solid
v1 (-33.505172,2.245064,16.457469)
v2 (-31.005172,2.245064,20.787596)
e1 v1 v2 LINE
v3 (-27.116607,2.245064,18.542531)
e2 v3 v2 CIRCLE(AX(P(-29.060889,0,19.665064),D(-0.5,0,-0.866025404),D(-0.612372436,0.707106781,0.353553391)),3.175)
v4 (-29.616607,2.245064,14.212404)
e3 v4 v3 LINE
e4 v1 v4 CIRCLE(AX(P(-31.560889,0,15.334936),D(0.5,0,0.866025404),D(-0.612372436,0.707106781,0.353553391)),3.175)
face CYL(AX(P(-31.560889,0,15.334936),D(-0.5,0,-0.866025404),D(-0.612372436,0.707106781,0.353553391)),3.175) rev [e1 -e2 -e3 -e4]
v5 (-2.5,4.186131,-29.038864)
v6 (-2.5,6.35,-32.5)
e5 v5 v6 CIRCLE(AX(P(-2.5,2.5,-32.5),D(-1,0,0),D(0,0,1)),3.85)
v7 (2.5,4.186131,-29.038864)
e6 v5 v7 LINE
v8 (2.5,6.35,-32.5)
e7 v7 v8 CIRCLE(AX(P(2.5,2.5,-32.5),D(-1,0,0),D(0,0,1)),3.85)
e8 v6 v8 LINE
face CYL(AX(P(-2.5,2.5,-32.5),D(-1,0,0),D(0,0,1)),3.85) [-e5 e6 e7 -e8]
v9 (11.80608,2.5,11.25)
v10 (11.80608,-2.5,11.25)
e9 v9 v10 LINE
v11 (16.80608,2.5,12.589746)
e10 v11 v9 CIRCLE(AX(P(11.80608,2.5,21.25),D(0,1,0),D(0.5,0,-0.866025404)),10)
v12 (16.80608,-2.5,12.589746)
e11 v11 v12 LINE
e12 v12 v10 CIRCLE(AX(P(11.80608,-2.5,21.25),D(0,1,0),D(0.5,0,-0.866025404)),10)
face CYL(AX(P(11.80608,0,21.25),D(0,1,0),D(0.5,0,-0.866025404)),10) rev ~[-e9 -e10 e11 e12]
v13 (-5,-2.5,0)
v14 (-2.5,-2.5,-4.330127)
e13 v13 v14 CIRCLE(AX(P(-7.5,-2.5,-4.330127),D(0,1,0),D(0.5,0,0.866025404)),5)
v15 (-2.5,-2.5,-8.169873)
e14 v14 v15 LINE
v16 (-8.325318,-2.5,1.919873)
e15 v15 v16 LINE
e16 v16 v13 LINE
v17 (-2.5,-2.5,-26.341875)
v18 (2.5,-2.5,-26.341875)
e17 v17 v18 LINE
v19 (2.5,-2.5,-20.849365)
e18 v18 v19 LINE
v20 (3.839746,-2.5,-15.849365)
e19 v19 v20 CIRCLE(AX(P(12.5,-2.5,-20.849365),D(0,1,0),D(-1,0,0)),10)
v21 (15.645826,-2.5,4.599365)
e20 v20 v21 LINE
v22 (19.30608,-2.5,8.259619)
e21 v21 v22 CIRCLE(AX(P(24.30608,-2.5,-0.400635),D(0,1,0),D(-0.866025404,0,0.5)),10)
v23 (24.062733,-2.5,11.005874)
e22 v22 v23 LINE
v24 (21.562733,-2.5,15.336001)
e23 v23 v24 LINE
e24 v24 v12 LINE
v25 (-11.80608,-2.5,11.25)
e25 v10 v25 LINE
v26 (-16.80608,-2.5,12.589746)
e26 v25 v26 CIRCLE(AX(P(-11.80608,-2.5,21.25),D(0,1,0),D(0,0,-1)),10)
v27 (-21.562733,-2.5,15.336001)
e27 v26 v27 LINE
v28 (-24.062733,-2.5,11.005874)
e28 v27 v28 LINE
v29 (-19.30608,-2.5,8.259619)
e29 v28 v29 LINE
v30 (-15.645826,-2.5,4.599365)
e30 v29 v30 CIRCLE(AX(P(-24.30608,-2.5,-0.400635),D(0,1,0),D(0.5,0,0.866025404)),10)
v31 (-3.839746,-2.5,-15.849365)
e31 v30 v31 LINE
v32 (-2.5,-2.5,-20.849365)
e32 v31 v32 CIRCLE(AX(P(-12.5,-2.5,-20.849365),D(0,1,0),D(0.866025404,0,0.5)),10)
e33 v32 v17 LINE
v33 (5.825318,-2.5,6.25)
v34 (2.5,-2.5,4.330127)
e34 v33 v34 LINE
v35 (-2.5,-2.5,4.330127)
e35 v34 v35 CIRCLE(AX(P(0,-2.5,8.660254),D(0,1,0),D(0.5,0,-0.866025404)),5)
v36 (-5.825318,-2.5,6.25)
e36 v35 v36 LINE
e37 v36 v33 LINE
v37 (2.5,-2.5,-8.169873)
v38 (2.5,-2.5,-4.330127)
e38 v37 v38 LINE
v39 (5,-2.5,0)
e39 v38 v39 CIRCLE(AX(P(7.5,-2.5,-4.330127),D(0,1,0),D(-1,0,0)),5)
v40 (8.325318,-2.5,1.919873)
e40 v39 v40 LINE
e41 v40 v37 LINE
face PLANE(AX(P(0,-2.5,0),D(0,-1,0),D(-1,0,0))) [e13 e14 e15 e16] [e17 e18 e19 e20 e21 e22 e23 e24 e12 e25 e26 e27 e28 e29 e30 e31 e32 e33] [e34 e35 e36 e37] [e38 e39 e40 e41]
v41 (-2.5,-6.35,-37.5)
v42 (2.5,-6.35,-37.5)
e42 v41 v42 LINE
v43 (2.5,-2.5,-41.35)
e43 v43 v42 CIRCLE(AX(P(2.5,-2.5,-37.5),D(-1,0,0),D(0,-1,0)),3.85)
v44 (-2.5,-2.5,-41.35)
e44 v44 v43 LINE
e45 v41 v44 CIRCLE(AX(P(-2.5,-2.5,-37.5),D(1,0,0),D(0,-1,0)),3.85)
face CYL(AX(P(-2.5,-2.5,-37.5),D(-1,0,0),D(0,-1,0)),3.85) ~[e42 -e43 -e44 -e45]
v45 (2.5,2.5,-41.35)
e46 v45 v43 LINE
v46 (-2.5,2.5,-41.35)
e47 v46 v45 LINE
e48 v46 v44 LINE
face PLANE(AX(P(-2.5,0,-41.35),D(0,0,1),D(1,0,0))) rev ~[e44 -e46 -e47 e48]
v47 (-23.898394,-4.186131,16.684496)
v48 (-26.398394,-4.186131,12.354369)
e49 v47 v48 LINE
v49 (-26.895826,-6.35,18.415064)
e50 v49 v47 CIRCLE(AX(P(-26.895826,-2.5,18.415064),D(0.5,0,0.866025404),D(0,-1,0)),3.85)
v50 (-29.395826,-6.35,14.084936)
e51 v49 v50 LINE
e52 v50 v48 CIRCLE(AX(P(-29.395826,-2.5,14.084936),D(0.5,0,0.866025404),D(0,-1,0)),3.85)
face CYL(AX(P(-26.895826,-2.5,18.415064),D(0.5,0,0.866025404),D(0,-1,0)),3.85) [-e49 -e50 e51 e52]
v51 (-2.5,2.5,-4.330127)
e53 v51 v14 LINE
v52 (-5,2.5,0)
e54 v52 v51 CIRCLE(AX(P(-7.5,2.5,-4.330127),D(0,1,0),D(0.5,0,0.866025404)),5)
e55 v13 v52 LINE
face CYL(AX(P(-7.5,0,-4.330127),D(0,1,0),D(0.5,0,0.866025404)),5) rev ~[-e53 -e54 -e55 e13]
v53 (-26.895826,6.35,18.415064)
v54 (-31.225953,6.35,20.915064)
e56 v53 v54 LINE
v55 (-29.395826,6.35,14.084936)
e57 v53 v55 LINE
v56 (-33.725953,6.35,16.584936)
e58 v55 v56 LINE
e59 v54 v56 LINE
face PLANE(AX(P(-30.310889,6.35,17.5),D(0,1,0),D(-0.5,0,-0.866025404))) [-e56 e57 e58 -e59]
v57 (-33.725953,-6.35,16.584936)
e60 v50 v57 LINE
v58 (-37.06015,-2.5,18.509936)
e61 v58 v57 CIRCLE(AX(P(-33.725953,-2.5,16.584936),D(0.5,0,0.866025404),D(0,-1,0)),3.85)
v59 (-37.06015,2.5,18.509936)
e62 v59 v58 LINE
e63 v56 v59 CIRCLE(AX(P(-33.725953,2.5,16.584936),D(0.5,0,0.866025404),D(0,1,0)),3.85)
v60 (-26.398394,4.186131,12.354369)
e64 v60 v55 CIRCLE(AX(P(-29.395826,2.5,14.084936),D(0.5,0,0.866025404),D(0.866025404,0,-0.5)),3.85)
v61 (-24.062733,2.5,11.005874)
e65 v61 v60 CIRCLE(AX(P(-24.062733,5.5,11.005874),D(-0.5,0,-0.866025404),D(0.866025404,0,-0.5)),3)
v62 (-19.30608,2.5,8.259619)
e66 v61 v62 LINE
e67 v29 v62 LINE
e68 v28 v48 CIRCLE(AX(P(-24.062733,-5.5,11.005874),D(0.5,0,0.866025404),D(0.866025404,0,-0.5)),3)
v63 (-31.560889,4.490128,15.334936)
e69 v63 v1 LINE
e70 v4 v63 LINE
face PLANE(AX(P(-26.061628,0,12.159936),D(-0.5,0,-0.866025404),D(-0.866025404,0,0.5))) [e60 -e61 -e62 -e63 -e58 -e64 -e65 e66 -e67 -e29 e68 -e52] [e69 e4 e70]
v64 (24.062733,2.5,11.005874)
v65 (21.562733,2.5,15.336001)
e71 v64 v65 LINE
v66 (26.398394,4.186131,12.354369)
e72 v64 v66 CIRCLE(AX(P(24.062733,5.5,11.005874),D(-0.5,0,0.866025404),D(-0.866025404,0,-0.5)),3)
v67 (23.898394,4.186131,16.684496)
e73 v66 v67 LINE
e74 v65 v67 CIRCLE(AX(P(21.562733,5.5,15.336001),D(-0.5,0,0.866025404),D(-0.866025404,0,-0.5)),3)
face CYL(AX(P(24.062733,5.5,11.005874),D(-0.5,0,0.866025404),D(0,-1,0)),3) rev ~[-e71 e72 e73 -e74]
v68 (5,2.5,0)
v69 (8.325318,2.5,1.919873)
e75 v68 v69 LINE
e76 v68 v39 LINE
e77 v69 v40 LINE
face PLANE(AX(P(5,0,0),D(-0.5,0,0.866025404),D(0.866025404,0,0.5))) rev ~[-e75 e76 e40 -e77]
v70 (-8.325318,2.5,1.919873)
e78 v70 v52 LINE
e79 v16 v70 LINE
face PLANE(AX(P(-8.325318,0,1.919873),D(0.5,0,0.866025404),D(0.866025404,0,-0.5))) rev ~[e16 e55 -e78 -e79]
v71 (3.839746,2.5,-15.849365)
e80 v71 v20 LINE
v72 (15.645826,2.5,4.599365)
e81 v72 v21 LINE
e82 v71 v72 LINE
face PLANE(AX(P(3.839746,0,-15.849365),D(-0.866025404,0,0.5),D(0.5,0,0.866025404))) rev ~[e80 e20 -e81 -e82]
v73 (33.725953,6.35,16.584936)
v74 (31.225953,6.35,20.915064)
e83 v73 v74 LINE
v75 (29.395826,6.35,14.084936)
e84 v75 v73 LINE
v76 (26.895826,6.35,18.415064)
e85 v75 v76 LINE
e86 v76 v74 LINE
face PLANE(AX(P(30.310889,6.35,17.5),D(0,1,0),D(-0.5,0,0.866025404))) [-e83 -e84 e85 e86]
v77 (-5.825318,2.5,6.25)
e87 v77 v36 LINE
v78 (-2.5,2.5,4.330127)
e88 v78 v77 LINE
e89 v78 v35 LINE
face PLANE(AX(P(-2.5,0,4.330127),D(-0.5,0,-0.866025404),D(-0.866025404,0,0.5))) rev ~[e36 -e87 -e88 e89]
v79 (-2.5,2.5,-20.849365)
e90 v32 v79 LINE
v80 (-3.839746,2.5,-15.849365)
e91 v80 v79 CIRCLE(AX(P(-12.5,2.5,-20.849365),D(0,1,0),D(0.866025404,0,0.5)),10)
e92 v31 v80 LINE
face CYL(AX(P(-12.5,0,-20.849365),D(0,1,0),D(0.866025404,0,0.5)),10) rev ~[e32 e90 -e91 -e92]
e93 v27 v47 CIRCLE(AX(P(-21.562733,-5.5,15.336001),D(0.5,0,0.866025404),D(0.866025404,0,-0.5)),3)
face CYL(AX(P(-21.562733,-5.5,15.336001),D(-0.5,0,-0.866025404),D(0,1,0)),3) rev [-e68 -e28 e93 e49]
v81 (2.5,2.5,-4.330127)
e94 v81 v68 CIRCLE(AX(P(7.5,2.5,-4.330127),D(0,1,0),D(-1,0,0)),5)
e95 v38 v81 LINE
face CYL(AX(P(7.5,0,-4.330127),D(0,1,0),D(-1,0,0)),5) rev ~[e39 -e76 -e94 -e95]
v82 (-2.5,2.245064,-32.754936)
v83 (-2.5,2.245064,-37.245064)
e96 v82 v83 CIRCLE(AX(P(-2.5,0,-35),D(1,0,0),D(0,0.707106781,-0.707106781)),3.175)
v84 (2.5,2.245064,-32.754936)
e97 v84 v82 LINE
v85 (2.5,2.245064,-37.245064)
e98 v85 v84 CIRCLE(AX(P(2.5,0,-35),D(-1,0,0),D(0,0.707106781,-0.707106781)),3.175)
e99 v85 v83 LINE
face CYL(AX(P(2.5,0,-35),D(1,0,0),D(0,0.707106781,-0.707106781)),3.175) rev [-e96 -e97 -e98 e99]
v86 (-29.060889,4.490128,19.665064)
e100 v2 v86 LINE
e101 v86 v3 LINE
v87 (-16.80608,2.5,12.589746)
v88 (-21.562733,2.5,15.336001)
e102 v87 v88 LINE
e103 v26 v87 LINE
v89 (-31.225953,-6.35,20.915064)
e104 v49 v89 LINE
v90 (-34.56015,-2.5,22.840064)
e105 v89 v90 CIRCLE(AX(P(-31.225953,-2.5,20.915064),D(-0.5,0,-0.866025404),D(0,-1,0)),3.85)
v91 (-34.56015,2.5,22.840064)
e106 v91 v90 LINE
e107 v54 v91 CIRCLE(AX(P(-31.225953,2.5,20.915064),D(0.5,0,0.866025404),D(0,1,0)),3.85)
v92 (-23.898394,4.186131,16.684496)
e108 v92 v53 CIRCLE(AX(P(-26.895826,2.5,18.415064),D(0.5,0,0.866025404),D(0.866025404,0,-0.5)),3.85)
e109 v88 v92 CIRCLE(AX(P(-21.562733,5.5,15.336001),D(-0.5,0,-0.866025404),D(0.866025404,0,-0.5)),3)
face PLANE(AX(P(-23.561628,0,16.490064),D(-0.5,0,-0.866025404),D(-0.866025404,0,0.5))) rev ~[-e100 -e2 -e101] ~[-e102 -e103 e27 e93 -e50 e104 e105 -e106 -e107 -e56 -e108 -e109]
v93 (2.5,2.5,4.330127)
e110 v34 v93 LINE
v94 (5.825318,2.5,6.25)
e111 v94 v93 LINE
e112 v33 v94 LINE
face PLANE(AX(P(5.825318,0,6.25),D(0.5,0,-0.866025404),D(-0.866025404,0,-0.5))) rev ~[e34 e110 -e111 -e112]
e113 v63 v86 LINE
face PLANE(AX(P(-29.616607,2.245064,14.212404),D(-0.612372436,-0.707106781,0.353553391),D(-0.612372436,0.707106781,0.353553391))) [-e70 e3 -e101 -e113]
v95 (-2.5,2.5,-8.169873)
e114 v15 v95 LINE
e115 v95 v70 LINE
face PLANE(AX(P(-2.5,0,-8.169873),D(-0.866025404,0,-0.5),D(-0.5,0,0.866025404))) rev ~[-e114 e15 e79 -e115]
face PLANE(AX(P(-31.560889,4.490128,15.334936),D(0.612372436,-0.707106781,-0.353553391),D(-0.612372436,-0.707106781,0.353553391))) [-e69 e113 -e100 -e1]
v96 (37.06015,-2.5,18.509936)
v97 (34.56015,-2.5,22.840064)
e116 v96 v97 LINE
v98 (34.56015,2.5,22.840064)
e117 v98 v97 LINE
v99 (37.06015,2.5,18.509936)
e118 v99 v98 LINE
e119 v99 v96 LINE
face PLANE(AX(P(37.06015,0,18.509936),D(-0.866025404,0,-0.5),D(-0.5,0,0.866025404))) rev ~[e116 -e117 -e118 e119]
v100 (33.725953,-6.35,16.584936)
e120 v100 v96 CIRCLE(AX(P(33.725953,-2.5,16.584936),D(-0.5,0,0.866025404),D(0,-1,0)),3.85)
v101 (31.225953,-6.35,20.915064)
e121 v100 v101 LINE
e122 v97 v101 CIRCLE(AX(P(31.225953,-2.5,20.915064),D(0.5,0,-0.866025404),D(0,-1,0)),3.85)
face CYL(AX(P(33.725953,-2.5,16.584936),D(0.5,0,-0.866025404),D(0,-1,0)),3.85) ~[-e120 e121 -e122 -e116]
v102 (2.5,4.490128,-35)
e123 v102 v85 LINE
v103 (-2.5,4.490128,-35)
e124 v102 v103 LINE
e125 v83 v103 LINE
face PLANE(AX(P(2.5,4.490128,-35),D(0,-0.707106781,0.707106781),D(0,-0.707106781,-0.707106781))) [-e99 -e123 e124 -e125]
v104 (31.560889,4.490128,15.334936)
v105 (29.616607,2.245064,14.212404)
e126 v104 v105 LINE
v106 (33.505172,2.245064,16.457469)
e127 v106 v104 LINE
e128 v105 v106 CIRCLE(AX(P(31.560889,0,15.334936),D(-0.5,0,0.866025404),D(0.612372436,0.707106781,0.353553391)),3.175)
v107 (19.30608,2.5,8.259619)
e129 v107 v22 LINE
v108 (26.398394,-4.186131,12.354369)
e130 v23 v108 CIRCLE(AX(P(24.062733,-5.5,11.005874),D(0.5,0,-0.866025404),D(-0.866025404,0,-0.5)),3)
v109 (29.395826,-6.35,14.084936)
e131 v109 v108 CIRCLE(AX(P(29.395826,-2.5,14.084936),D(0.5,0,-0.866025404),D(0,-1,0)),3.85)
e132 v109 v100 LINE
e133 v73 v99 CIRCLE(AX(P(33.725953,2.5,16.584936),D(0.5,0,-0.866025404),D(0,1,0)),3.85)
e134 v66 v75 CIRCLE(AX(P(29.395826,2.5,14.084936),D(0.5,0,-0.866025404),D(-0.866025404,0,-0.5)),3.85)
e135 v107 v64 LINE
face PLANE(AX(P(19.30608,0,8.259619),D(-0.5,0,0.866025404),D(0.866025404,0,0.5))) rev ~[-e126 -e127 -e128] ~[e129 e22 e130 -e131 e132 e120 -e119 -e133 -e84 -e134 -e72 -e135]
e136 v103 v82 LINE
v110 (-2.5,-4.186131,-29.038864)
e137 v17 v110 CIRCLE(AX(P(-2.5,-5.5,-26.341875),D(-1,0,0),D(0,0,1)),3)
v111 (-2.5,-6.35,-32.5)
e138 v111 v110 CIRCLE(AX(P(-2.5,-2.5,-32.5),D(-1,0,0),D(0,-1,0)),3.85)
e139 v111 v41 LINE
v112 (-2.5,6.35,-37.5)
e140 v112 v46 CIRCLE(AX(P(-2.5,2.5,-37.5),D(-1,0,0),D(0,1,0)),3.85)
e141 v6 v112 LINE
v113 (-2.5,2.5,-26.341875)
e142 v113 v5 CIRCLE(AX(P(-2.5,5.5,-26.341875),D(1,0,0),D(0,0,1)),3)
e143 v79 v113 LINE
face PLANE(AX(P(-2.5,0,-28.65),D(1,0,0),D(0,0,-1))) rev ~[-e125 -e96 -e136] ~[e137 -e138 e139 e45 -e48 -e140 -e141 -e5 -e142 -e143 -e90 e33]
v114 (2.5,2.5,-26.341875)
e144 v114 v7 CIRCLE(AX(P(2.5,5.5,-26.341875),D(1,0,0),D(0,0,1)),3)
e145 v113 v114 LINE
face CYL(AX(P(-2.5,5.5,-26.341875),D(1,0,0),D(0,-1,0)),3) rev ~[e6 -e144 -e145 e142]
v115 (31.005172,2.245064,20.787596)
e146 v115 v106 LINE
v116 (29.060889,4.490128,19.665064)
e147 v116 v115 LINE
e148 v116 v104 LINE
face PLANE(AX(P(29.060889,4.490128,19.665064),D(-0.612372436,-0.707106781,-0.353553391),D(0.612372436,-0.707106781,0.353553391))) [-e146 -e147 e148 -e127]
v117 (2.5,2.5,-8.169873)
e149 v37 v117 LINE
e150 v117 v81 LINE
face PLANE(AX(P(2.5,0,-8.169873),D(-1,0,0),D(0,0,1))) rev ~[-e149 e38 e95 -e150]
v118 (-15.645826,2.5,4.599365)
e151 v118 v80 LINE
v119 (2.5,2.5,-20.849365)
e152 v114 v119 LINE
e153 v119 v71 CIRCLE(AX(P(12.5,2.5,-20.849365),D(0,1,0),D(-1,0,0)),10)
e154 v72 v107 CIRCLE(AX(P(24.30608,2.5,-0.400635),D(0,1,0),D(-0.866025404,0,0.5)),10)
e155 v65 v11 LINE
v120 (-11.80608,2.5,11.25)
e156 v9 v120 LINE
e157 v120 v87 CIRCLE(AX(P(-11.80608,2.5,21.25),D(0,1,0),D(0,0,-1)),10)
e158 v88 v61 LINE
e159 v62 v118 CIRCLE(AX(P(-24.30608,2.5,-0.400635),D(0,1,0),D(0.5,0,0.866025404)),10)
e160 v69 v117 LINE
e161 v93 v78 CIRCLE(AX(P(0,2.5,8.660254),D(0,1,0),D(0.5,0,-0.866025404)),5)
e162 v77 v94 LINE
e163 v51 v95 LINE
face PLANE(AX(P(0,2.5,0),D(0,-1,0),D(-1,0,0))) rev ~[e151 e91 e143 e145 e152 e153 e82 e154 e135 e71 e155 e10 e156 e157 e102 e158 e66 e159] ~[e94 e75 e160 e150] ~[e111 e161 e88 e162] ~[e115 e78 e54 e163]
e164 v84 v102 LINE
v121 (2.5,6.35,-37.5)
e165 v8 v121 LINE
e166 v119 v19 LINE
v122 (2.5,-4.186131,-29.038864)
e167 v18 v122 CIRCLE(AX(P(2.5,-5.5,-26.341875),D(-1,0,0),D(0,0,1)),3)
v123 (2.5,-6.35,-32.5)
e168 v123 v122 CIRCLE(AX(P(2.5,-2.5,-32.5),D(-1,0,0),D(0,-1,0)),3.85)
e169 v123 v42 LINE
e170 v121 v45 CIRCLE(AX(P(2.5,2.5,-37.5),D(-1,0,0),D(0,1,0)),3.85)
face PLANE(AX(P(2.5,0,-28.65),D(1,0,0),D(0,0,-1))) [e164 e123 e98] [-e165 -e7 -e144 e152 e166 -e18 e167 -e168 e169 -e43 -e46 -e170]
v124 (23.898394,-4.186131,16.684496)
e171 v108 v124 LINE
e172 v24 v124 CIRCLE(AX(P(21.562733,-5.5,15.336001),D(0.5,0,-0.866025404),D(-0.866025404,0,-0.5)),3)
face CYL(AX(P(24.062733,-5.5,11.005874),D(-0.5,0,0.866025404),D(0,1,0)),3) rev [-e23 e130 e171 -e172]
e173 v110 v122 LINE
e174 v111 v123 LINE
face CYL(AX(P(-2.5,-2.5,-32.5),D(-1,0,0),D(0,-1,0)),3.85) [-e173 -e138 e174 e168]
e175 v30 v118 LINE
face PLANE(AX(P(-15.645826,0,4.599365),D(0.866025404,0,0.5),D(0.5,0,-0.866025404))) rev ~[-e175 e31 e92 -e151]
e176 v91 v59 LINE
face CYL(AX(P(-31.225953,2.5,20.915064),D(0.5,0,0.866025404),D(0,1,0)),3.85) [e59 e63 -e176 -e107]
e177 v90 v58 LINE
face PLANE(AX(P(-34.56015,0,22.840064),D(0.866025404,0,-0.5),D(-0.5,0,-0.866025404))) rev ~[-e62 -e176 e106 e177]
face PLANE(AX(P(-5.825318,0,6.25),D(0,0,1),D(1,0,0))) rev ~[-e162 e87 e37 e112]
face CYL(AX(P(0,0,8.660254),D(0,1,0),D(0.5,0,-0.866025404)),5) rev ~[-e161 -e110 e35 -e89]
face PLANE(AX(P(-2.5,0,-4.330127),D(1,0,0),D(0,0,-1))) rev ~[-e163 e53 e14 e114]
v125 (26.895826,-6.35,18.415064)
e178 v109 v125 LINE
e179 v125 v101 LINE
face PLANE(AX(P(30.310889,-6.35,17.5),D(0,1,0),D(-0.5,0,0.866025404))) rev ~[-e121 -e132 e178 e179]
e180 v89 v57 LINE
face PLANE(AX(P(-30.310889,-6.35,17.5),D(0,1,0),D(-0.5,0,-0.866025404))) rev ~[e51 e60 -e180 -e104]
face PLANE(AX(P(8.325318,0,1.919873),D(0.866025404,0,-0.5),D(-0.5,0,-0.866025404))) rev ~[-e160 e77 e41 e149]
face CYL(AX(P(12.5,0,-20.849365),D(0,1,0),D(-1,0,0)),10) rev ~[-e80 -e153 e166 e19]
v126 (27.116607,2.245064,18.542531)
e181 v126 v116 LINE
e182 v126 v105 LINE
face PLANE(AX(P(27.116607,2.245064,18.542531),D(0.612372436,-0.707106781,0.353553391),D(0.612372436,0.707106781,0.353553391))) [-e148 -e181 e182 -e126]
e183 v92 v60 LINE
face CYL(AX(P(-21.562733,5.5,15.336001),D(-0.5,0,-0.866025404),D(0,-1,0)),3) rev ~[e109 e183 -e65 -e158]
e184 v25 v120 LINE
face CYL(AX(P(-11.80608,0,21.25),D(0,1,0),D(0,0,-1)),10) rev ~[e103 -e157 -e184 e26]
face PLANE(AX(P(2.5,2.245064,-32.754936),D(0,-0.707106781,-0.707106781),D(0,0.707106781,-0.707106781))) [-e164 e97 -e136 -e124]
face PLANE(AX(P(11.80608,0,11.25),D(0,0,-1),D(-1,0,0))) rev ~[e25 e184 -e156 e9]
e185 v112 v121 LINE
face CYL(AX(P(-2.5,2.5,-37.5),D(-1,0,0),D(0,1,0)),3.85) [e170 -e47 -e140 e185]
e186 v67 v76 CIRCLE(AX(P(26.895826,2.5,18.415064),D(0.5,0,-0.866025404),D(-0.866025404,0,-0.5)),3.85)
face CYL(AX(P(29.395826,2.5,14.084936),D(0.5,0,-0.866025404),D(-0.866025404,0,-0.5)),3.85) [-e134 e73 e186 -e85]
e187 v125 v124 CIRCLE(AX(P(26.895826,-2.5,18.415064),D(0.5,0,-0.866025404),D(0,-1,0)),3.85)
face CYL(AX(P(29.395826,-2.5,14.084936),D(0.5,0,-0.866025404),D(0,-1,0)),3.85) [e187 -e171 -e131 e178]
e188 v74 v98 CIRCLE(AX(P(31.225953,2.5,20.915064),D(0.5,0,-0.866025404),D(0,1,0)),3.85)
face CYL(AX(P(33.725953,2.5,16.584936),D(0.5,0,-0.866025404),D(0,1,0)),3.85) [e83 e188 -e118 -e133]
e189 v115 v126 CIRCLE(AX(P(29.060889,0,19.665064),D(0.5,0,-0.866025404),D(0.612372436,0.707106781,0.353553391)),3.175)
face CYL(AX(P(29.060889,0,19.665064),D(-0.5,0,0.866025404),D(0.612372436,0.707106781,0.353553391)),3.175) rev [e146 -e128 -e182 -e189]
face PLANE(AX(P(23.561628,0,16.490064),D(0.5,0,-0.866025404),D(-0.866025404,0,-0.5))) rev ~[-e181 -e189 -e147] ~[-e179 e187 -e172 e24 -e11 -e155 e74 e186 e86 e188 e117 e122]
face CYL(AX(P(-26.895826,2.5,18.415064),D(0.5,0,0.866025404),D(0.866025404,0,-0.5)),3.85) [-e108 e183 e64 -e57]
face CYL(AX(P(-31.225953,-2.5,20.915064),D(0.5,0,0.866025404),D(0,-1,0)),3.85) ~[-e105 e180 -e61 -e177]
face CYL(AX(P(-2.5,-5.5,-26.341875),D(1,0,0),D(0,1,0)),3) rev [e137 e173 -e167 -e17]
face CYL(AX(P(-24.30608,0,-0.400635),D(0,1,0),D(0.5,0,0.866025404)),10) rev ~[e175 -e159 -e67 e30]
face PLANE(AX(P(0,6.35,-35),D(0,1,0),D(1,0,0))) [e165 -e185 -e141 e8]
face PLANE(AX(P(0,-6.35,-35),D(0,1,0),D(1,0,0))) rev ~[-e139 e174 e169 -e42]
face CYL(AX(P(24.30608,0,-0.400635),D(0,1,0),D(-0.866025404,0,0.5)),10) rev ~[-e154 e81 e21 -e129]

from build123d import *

# Parameters (mm, degrees)
SALIENTE_EXTRUIR1_DEPTH = 2.5
CROQUIS2_W              = 5
CROQUIS2_H              = 12.7
SALIENTE_EXTRUIR2_DEPTH = 6.350000000000001
CORTAR_EXTRUIR1_REACH   = 52.655
CORTAR_EXTRUIR2_REACH   = 52.655
MATRIZC7_COUNT          = 3
REDONDEO3_R             = 3
REDONDEO4_R             = 3
REDONDEO5_R             = 3
REDONDEO6_R             = 3
REDONDEO7_R             = 3
REDONDEO8_R             = 3


with BuildPart() as part:
    # Croquis1 → Saliente-Extruir1 (new, symmetric)
    with BuildSketch(Plane(origin=(0, 0, 0), x_dir=(1, 0, 0), z_dir=(0, 1, 0))):
        with BuildLine():
            Line((-2.5, 28.650000000000002), (2.5, 28.650000000000002))
            Line((2.5, 28.650000000000002), (2.5, 20.849364905389077))
            ThreePointArc((2.5, 20.849364905389077), (2.8407417371092976, 18.26117445436386), (3.8397459621556003, 15.84936490538906))
            Line((3.8397459621556003, 15.84936490538906), (15.64582562299427, -4.599364905389191))
            ThreePointArc((15.64582562299427, -4.599364905389191), (17.235011848973173, -6.670432717254639), (19.306079660838602, -8.259618943233573))
            Line((19.306079660838602, -8.259618943233573), (26.061627818424082, -12.159936490539094))
            Line((26.061627818424082, -12.159936490539094), (23.561627818424125, -16.490063509461137))
            Line((23.561627818424125, -16.490063509461137), (16.806079660838638, -12.589745962155668))
            ThreePointArc((16.806079660838638, -12.589745962155668), (14.394270111863824, -11.590741737109344), (11.80607966083859, -11.25000000000002))
            Line((11.80607966083859, -11.25000000000002), (-11.806079660838877, -11.250000000000021))
            ThreePointArc((-11.806079660838877, -11.250000000000021), (-14.394270111864046, -11.590741737109328), (-16.806079660838808, -12.589745962155595))
            Line((-16.806079660838808, -12.589745962155595), (-23.561627818424295, -16.490063509460935))
            Line((-23.561627818424295, -16.490063509460935), (-26.061627818424316, -12.15993649053858))
            Line((-26.061627818424316, -12.15993649053858), (-19.30607966083857, -8.259618943233107))
            ThreePointArc((-19.30607966083857, -8.259618943233107), (-17.235011848973045, -6.670432717254254), (-15.645825622994131, -4.5993649053887635))
            Line((-15.645825622994131, -4.5993649053887635), (-3.8397459621555967, 15.849364905389269))
            ThreePointArc((-3.8397459621555967, 15.849364905389269), (-2.8407417371093064, 18.26117445436405), (-2.5000000000000004, 20.84936490538924))
            Line((-2.5000000000000004, 20.84936490538924), (-2.5, 28.650000000000002))
        make_face()
        with BuildLine():
            Line((4.999999999999967, -1.648e-14), (8.325317547305488, -1.919872981077918))
            Line((8.325317547305488, -1.919872981077918), (2.5, 8.169872981077836))
            Line((2.5, 8.169872981077836), (2.5000000000000004, 4.330127018922162))
            ThreePointArc((2.5000000000000004, 4.330127018922162), (3.16987298107781, 1.8301270189221883), (4.999999999999967, -1.648e-14))
        make_face(mode=Mode.SUBTRACT)
        with BuildLine():
            Line((-2.499999999999762, -4.330127018922147), (-5.825317547305628, -6.250000000000082))
            Line((-5.825317547305628, -6.250000000000082), (5.825317547305489, -6.249999999999961))
            Line((5.825317547305489, -6.249999999999961), (2.5000000000002185, -4.3301270189221945))
            ThreePointArc((2.5000000000002185, -4.3301270189221945), (1.9836e-13, -3.660254037844239), (-2.499999999999762, -4.330127018922147))
        make_face(mode=Mode.SUBTRACT)
        with BuildLine():
            Line((-2.5000000000000004, 4.330127018922227), (-2.5, 8.169872981077782))
            Line((-2.5, 8.169872981077782), (-8.325317547305644, -1.9198729810777775))
            Line((-8.325317547305644, -1.9198729810777775), (-5.000000000000053, 0))
            ThreePointArc((-5.000000000000053, 0), (-3.1698729810778152, 1.8301270189221972), (-2.5000000000000004, 4.330127018922227))
        make_face(mode=Mode.SUBTRACT)
    extrude(amount=SALIENTE_EXTRUIR1_DEPTH, both=True)

    # Croquis2 → Saliente-Extruir2 (add, symmetric)
    with BuildSketch(Plane(origin=(0, 0, 0), x_dir=(1, 0, 0), z_dir=(0, 1, 0))):
        with Locations((0, 35)):
            Rectangle(CROQUIS2_W, CROQUIS2_H)
    saliente_extruir2 = extrude(amount=SALIENTE_EXTRUIR2_DEPTH, both=True)

    # Croquis3 → Cortar-Extruir1 (cut, up to next)
    with BuildSketch(Plane(origin=(2.5, 0, 0), x_dir=(0, 0, -1), z_dir=(1, 0, 0)), mode=Mode.PRIVATE) as cortar_extruir1_sk1:
        with BuildLine():
            Line((32.754935969732706, 2.2450640302672804), (35, 4.490128060534589))
            Line((35, 4.490128060534589), (37.245064030267294, 2.245064030267292))
            ThreePointArc((37.245064030267294, 2.245064030267292), (35.00000000000001, -3.174999999999998), (32.754935969732706, 2.2450640302672804))
        make_face()
    cortar_extruir1_tool1 = extrude(cortar_extruir1_sk1.sketch, amount=-CORTAR_EXTRUIR1_REACH, mode=Mode.PRIVATE) & part.part
    cortar_extruir1 = cortar_extruir1_tool1.solids().sort_by_distance((2.5, 0.222977, -35))[0]
    add(cortar_extruir1, mode=Mode.SUBTRACT)

    # Croquis4 → Cortar-Extruir2 (cut, up to next)
    with BuildSketch(Plane.ZY.offset(2.5000000000000018), mode=Mode.PRIVATE) as cortar_extruir2_sk1:
        with BuildLine():
            Line((-41.35, 6.350000000000001), (-37.50000000000001, 6.350000000000001))
            ThreePointArc((-37.50000000000001, 6.350000000000001), (-40.22236110756822, 5.222361107568213), (-41.35, 2.500000000000002))
            Line((-41.35, 2.500000000000002), (-41.35, 6.350000000000001))
        make_face()
    cortar_extruir2_tool1 = extrude(cortar_extruir2_sk1.sketch, amount=-CORTAR_EXTRUIR2_REACH, mode=Mode.PRIVATE) & part.part
    # Croquis4 → Cortar-Extruir2 (cut, up to next)
    with BuildSketch(Plane.ZY.offset(2.5000000000000018), mode=Mode.PRIVATE) as cortar_extruir2_sk2:
        with BuildLine():
            Line((-32.5, 6.350000000000001), (-28.650000000000002, 6.350000000000001))
            Line((-28.650000000000002, 6.350000000000001), (-28.650000000000002, 2.5))
            ThreePointArc((-28.650000000000002, 2.5), (-29.777638892431792, 5.222361107568209), (-32.5, 6.350000000000001))
        make_face()
    cortar_extruir2_tool2 = extrude(cortar_extruir2_sk2.sketch, amount=-CORTAR_EXTRUIR2_REACH, mode=Mode.PRIVATE) & part.part
    # Croquis4 → Cortar-Extruir2 (cut, up to next)
    with BuildSketch(Plane.ZY.offset(2.5000000000000018), mode=Mode.PRIVATE) as cortar_extruir2_sk3:
        with BuildLine():
            Line((-41.35, -2.500000000000002), (-41.35, -6.350000000000001))
            Line((-41.35, -6.350000000000001), (-37.50000000000001, -6.350000000000001))
            ThreePointArc((-37.50000000000001, -6.350000000000001), (-40.22236110756821, -5.222361107568203), (-41.35, -2.500000000000002))
        make_face()
    cortar_extruir2_tool3 = extrude(cortar_extruir2_sk3.sketch, amount=-CORTAR_EXTRUIR2_REACH, mode=Mode.PRIVATE) & part.part
    # Croquis4 → Cortar-Extruir2 (cut, up to next)
    with BuildSketch(Plane.ZY.offset(2.5000000000000018), mode=Mode.PRIVATE) as cortar_extruir2_sk4:
        with BuildLine():
            Line((-28.650000000000002, -2.5000000000000004), (-28.650000000000002, -6.350000000000001))
            Line((-28.650000000000002, -6.350000000000001), (-32.5, -6.350000000000001))
            ThreePointArc((-32.5, -6.350000000000001), (-29.777638892431792, -5.222361107568209), (-28.650000000000002, -2.5000000000000004))
        make_face()
    cortar_extruir2_tool4 = extrude(cortar_extruir2_sk4.sketch, amount=-CORTAR_EXTRUIR2_REACH, mode=Mode.PRIVATE) & part.part
    cortar_extruir2_1 = cortar_extruir2_tool1.solids().sort_by_distance((-2.5, 5.490033, -40.490033))[0]
    add(cortar_extruir2_1, mode=Mode.SUBTRACT)
    cortar_extruir2_2 = cortar_extruir2_tool2.solids().sort_by_distance((-2.5, 5.490033, -29.509967))[0]
    add(cortar_extruir2_2, mode=Mode.SUBTRACT)
    cortar_extruir2_3 = cortar_extruir2_tool3.solids().sort_by_distance((-2.5, -5.490033, -40.490033))[0]
    add(cortar_extruir2_3, mode=Mode.SUBTRACT)
    cortar_extruir2_4 = cortar_extruir2_tool4.solids().sort_by_distance((-2.5, -5.490033, -29.509967))[0]
    add(cortar_extruir2_4, mode=Mode.SUBTRACT)
    cortar_extruir2 = cortar_extruir2_1 + cortar_extruir2_2 + cortar_extruir2_3 + cortar_extruir2_4  # Cortar-Extruir2 as one shape, for the pattern or mirror that repeats it

    # MatrizC7: Saliente-Extruir2, Cortar-Extruir1, Cortar-Extruir2 ×3 about axis
    matrizc7_axis = Axis((-4.13e-15, 0, 3.06e-15), (0, 1, 0))
    add([saliente_extruir2.rotate(matrizc7_axis, i * 360 / MATRIZC7_COUNT) for i in range(1, MATRIZC7_COUNT)])
    add([cortar_extruir1.rotate(matrizc7_axis, i * 360 / MATRIZC7_COUNT) for i in range(1, MATRIZC7_COUNT)], mode=Mode.SUBTRACT)
    add([cortar_extruir2.rotate(matrizc7_axis, i * 360 / MATRIZC7_COUNT) for i in range(1, MATRIZC7_COUNT)], mode=Mode.SUBTRACT)

    # Redondeo3
    redondeo3_edges = [part.edges().sort_by_distance(p)[0] for p in [
        (0, 2.5, -28.650000000000002),
    ]]
    fillet(redondeo3_edges, radius=REDONDEO3_R)

    # Redondeo4
    redondeo4_edges = [part.edges().sort_by_distance(p)[0] for p in [
        (-24.811627818424306, 2.5, 14.324999999999758),
    ]]
    fillet(redondeo4_edges, radius=REDONDEO4_R)

    # Redondeo5
    redondeo5_edges = [part.edges().sort_by_distance(p)[0] for p in [
        (24.811627818424103, 2.5, 14.325000000000117),
    ]]
    fillet(redondeo5_edges, radius=REDONDEO5_R)

    # Redondeo6
    redondeo6_edges = [part.edges().sort_by_distance(p)[0] for p in [
        (-24.811627818424306, -2.5, 14.324999999999758),
    ]]
    fillet(redondeo6_edges, radius=REDONDEO6_R)

    # Redondeo7
    redondeo7_edges = [part.edges().sort_by_distance(p)[0] for p in [
        (0, -2.5, -28.650000000000002),
    ]]
    fillet(redondeo7_edges, radius=REDONDEO7_R)

    # Redondeo8
    redondeo8_edges = [part.edges().sort_by_distance(p)[0] for p in [
        (24.811627818424103, -2.5, 14.325000000000117),
    ]]
    fillet(redondeo8_edges, radius=REDONDEO8_R)


solid = part.part
